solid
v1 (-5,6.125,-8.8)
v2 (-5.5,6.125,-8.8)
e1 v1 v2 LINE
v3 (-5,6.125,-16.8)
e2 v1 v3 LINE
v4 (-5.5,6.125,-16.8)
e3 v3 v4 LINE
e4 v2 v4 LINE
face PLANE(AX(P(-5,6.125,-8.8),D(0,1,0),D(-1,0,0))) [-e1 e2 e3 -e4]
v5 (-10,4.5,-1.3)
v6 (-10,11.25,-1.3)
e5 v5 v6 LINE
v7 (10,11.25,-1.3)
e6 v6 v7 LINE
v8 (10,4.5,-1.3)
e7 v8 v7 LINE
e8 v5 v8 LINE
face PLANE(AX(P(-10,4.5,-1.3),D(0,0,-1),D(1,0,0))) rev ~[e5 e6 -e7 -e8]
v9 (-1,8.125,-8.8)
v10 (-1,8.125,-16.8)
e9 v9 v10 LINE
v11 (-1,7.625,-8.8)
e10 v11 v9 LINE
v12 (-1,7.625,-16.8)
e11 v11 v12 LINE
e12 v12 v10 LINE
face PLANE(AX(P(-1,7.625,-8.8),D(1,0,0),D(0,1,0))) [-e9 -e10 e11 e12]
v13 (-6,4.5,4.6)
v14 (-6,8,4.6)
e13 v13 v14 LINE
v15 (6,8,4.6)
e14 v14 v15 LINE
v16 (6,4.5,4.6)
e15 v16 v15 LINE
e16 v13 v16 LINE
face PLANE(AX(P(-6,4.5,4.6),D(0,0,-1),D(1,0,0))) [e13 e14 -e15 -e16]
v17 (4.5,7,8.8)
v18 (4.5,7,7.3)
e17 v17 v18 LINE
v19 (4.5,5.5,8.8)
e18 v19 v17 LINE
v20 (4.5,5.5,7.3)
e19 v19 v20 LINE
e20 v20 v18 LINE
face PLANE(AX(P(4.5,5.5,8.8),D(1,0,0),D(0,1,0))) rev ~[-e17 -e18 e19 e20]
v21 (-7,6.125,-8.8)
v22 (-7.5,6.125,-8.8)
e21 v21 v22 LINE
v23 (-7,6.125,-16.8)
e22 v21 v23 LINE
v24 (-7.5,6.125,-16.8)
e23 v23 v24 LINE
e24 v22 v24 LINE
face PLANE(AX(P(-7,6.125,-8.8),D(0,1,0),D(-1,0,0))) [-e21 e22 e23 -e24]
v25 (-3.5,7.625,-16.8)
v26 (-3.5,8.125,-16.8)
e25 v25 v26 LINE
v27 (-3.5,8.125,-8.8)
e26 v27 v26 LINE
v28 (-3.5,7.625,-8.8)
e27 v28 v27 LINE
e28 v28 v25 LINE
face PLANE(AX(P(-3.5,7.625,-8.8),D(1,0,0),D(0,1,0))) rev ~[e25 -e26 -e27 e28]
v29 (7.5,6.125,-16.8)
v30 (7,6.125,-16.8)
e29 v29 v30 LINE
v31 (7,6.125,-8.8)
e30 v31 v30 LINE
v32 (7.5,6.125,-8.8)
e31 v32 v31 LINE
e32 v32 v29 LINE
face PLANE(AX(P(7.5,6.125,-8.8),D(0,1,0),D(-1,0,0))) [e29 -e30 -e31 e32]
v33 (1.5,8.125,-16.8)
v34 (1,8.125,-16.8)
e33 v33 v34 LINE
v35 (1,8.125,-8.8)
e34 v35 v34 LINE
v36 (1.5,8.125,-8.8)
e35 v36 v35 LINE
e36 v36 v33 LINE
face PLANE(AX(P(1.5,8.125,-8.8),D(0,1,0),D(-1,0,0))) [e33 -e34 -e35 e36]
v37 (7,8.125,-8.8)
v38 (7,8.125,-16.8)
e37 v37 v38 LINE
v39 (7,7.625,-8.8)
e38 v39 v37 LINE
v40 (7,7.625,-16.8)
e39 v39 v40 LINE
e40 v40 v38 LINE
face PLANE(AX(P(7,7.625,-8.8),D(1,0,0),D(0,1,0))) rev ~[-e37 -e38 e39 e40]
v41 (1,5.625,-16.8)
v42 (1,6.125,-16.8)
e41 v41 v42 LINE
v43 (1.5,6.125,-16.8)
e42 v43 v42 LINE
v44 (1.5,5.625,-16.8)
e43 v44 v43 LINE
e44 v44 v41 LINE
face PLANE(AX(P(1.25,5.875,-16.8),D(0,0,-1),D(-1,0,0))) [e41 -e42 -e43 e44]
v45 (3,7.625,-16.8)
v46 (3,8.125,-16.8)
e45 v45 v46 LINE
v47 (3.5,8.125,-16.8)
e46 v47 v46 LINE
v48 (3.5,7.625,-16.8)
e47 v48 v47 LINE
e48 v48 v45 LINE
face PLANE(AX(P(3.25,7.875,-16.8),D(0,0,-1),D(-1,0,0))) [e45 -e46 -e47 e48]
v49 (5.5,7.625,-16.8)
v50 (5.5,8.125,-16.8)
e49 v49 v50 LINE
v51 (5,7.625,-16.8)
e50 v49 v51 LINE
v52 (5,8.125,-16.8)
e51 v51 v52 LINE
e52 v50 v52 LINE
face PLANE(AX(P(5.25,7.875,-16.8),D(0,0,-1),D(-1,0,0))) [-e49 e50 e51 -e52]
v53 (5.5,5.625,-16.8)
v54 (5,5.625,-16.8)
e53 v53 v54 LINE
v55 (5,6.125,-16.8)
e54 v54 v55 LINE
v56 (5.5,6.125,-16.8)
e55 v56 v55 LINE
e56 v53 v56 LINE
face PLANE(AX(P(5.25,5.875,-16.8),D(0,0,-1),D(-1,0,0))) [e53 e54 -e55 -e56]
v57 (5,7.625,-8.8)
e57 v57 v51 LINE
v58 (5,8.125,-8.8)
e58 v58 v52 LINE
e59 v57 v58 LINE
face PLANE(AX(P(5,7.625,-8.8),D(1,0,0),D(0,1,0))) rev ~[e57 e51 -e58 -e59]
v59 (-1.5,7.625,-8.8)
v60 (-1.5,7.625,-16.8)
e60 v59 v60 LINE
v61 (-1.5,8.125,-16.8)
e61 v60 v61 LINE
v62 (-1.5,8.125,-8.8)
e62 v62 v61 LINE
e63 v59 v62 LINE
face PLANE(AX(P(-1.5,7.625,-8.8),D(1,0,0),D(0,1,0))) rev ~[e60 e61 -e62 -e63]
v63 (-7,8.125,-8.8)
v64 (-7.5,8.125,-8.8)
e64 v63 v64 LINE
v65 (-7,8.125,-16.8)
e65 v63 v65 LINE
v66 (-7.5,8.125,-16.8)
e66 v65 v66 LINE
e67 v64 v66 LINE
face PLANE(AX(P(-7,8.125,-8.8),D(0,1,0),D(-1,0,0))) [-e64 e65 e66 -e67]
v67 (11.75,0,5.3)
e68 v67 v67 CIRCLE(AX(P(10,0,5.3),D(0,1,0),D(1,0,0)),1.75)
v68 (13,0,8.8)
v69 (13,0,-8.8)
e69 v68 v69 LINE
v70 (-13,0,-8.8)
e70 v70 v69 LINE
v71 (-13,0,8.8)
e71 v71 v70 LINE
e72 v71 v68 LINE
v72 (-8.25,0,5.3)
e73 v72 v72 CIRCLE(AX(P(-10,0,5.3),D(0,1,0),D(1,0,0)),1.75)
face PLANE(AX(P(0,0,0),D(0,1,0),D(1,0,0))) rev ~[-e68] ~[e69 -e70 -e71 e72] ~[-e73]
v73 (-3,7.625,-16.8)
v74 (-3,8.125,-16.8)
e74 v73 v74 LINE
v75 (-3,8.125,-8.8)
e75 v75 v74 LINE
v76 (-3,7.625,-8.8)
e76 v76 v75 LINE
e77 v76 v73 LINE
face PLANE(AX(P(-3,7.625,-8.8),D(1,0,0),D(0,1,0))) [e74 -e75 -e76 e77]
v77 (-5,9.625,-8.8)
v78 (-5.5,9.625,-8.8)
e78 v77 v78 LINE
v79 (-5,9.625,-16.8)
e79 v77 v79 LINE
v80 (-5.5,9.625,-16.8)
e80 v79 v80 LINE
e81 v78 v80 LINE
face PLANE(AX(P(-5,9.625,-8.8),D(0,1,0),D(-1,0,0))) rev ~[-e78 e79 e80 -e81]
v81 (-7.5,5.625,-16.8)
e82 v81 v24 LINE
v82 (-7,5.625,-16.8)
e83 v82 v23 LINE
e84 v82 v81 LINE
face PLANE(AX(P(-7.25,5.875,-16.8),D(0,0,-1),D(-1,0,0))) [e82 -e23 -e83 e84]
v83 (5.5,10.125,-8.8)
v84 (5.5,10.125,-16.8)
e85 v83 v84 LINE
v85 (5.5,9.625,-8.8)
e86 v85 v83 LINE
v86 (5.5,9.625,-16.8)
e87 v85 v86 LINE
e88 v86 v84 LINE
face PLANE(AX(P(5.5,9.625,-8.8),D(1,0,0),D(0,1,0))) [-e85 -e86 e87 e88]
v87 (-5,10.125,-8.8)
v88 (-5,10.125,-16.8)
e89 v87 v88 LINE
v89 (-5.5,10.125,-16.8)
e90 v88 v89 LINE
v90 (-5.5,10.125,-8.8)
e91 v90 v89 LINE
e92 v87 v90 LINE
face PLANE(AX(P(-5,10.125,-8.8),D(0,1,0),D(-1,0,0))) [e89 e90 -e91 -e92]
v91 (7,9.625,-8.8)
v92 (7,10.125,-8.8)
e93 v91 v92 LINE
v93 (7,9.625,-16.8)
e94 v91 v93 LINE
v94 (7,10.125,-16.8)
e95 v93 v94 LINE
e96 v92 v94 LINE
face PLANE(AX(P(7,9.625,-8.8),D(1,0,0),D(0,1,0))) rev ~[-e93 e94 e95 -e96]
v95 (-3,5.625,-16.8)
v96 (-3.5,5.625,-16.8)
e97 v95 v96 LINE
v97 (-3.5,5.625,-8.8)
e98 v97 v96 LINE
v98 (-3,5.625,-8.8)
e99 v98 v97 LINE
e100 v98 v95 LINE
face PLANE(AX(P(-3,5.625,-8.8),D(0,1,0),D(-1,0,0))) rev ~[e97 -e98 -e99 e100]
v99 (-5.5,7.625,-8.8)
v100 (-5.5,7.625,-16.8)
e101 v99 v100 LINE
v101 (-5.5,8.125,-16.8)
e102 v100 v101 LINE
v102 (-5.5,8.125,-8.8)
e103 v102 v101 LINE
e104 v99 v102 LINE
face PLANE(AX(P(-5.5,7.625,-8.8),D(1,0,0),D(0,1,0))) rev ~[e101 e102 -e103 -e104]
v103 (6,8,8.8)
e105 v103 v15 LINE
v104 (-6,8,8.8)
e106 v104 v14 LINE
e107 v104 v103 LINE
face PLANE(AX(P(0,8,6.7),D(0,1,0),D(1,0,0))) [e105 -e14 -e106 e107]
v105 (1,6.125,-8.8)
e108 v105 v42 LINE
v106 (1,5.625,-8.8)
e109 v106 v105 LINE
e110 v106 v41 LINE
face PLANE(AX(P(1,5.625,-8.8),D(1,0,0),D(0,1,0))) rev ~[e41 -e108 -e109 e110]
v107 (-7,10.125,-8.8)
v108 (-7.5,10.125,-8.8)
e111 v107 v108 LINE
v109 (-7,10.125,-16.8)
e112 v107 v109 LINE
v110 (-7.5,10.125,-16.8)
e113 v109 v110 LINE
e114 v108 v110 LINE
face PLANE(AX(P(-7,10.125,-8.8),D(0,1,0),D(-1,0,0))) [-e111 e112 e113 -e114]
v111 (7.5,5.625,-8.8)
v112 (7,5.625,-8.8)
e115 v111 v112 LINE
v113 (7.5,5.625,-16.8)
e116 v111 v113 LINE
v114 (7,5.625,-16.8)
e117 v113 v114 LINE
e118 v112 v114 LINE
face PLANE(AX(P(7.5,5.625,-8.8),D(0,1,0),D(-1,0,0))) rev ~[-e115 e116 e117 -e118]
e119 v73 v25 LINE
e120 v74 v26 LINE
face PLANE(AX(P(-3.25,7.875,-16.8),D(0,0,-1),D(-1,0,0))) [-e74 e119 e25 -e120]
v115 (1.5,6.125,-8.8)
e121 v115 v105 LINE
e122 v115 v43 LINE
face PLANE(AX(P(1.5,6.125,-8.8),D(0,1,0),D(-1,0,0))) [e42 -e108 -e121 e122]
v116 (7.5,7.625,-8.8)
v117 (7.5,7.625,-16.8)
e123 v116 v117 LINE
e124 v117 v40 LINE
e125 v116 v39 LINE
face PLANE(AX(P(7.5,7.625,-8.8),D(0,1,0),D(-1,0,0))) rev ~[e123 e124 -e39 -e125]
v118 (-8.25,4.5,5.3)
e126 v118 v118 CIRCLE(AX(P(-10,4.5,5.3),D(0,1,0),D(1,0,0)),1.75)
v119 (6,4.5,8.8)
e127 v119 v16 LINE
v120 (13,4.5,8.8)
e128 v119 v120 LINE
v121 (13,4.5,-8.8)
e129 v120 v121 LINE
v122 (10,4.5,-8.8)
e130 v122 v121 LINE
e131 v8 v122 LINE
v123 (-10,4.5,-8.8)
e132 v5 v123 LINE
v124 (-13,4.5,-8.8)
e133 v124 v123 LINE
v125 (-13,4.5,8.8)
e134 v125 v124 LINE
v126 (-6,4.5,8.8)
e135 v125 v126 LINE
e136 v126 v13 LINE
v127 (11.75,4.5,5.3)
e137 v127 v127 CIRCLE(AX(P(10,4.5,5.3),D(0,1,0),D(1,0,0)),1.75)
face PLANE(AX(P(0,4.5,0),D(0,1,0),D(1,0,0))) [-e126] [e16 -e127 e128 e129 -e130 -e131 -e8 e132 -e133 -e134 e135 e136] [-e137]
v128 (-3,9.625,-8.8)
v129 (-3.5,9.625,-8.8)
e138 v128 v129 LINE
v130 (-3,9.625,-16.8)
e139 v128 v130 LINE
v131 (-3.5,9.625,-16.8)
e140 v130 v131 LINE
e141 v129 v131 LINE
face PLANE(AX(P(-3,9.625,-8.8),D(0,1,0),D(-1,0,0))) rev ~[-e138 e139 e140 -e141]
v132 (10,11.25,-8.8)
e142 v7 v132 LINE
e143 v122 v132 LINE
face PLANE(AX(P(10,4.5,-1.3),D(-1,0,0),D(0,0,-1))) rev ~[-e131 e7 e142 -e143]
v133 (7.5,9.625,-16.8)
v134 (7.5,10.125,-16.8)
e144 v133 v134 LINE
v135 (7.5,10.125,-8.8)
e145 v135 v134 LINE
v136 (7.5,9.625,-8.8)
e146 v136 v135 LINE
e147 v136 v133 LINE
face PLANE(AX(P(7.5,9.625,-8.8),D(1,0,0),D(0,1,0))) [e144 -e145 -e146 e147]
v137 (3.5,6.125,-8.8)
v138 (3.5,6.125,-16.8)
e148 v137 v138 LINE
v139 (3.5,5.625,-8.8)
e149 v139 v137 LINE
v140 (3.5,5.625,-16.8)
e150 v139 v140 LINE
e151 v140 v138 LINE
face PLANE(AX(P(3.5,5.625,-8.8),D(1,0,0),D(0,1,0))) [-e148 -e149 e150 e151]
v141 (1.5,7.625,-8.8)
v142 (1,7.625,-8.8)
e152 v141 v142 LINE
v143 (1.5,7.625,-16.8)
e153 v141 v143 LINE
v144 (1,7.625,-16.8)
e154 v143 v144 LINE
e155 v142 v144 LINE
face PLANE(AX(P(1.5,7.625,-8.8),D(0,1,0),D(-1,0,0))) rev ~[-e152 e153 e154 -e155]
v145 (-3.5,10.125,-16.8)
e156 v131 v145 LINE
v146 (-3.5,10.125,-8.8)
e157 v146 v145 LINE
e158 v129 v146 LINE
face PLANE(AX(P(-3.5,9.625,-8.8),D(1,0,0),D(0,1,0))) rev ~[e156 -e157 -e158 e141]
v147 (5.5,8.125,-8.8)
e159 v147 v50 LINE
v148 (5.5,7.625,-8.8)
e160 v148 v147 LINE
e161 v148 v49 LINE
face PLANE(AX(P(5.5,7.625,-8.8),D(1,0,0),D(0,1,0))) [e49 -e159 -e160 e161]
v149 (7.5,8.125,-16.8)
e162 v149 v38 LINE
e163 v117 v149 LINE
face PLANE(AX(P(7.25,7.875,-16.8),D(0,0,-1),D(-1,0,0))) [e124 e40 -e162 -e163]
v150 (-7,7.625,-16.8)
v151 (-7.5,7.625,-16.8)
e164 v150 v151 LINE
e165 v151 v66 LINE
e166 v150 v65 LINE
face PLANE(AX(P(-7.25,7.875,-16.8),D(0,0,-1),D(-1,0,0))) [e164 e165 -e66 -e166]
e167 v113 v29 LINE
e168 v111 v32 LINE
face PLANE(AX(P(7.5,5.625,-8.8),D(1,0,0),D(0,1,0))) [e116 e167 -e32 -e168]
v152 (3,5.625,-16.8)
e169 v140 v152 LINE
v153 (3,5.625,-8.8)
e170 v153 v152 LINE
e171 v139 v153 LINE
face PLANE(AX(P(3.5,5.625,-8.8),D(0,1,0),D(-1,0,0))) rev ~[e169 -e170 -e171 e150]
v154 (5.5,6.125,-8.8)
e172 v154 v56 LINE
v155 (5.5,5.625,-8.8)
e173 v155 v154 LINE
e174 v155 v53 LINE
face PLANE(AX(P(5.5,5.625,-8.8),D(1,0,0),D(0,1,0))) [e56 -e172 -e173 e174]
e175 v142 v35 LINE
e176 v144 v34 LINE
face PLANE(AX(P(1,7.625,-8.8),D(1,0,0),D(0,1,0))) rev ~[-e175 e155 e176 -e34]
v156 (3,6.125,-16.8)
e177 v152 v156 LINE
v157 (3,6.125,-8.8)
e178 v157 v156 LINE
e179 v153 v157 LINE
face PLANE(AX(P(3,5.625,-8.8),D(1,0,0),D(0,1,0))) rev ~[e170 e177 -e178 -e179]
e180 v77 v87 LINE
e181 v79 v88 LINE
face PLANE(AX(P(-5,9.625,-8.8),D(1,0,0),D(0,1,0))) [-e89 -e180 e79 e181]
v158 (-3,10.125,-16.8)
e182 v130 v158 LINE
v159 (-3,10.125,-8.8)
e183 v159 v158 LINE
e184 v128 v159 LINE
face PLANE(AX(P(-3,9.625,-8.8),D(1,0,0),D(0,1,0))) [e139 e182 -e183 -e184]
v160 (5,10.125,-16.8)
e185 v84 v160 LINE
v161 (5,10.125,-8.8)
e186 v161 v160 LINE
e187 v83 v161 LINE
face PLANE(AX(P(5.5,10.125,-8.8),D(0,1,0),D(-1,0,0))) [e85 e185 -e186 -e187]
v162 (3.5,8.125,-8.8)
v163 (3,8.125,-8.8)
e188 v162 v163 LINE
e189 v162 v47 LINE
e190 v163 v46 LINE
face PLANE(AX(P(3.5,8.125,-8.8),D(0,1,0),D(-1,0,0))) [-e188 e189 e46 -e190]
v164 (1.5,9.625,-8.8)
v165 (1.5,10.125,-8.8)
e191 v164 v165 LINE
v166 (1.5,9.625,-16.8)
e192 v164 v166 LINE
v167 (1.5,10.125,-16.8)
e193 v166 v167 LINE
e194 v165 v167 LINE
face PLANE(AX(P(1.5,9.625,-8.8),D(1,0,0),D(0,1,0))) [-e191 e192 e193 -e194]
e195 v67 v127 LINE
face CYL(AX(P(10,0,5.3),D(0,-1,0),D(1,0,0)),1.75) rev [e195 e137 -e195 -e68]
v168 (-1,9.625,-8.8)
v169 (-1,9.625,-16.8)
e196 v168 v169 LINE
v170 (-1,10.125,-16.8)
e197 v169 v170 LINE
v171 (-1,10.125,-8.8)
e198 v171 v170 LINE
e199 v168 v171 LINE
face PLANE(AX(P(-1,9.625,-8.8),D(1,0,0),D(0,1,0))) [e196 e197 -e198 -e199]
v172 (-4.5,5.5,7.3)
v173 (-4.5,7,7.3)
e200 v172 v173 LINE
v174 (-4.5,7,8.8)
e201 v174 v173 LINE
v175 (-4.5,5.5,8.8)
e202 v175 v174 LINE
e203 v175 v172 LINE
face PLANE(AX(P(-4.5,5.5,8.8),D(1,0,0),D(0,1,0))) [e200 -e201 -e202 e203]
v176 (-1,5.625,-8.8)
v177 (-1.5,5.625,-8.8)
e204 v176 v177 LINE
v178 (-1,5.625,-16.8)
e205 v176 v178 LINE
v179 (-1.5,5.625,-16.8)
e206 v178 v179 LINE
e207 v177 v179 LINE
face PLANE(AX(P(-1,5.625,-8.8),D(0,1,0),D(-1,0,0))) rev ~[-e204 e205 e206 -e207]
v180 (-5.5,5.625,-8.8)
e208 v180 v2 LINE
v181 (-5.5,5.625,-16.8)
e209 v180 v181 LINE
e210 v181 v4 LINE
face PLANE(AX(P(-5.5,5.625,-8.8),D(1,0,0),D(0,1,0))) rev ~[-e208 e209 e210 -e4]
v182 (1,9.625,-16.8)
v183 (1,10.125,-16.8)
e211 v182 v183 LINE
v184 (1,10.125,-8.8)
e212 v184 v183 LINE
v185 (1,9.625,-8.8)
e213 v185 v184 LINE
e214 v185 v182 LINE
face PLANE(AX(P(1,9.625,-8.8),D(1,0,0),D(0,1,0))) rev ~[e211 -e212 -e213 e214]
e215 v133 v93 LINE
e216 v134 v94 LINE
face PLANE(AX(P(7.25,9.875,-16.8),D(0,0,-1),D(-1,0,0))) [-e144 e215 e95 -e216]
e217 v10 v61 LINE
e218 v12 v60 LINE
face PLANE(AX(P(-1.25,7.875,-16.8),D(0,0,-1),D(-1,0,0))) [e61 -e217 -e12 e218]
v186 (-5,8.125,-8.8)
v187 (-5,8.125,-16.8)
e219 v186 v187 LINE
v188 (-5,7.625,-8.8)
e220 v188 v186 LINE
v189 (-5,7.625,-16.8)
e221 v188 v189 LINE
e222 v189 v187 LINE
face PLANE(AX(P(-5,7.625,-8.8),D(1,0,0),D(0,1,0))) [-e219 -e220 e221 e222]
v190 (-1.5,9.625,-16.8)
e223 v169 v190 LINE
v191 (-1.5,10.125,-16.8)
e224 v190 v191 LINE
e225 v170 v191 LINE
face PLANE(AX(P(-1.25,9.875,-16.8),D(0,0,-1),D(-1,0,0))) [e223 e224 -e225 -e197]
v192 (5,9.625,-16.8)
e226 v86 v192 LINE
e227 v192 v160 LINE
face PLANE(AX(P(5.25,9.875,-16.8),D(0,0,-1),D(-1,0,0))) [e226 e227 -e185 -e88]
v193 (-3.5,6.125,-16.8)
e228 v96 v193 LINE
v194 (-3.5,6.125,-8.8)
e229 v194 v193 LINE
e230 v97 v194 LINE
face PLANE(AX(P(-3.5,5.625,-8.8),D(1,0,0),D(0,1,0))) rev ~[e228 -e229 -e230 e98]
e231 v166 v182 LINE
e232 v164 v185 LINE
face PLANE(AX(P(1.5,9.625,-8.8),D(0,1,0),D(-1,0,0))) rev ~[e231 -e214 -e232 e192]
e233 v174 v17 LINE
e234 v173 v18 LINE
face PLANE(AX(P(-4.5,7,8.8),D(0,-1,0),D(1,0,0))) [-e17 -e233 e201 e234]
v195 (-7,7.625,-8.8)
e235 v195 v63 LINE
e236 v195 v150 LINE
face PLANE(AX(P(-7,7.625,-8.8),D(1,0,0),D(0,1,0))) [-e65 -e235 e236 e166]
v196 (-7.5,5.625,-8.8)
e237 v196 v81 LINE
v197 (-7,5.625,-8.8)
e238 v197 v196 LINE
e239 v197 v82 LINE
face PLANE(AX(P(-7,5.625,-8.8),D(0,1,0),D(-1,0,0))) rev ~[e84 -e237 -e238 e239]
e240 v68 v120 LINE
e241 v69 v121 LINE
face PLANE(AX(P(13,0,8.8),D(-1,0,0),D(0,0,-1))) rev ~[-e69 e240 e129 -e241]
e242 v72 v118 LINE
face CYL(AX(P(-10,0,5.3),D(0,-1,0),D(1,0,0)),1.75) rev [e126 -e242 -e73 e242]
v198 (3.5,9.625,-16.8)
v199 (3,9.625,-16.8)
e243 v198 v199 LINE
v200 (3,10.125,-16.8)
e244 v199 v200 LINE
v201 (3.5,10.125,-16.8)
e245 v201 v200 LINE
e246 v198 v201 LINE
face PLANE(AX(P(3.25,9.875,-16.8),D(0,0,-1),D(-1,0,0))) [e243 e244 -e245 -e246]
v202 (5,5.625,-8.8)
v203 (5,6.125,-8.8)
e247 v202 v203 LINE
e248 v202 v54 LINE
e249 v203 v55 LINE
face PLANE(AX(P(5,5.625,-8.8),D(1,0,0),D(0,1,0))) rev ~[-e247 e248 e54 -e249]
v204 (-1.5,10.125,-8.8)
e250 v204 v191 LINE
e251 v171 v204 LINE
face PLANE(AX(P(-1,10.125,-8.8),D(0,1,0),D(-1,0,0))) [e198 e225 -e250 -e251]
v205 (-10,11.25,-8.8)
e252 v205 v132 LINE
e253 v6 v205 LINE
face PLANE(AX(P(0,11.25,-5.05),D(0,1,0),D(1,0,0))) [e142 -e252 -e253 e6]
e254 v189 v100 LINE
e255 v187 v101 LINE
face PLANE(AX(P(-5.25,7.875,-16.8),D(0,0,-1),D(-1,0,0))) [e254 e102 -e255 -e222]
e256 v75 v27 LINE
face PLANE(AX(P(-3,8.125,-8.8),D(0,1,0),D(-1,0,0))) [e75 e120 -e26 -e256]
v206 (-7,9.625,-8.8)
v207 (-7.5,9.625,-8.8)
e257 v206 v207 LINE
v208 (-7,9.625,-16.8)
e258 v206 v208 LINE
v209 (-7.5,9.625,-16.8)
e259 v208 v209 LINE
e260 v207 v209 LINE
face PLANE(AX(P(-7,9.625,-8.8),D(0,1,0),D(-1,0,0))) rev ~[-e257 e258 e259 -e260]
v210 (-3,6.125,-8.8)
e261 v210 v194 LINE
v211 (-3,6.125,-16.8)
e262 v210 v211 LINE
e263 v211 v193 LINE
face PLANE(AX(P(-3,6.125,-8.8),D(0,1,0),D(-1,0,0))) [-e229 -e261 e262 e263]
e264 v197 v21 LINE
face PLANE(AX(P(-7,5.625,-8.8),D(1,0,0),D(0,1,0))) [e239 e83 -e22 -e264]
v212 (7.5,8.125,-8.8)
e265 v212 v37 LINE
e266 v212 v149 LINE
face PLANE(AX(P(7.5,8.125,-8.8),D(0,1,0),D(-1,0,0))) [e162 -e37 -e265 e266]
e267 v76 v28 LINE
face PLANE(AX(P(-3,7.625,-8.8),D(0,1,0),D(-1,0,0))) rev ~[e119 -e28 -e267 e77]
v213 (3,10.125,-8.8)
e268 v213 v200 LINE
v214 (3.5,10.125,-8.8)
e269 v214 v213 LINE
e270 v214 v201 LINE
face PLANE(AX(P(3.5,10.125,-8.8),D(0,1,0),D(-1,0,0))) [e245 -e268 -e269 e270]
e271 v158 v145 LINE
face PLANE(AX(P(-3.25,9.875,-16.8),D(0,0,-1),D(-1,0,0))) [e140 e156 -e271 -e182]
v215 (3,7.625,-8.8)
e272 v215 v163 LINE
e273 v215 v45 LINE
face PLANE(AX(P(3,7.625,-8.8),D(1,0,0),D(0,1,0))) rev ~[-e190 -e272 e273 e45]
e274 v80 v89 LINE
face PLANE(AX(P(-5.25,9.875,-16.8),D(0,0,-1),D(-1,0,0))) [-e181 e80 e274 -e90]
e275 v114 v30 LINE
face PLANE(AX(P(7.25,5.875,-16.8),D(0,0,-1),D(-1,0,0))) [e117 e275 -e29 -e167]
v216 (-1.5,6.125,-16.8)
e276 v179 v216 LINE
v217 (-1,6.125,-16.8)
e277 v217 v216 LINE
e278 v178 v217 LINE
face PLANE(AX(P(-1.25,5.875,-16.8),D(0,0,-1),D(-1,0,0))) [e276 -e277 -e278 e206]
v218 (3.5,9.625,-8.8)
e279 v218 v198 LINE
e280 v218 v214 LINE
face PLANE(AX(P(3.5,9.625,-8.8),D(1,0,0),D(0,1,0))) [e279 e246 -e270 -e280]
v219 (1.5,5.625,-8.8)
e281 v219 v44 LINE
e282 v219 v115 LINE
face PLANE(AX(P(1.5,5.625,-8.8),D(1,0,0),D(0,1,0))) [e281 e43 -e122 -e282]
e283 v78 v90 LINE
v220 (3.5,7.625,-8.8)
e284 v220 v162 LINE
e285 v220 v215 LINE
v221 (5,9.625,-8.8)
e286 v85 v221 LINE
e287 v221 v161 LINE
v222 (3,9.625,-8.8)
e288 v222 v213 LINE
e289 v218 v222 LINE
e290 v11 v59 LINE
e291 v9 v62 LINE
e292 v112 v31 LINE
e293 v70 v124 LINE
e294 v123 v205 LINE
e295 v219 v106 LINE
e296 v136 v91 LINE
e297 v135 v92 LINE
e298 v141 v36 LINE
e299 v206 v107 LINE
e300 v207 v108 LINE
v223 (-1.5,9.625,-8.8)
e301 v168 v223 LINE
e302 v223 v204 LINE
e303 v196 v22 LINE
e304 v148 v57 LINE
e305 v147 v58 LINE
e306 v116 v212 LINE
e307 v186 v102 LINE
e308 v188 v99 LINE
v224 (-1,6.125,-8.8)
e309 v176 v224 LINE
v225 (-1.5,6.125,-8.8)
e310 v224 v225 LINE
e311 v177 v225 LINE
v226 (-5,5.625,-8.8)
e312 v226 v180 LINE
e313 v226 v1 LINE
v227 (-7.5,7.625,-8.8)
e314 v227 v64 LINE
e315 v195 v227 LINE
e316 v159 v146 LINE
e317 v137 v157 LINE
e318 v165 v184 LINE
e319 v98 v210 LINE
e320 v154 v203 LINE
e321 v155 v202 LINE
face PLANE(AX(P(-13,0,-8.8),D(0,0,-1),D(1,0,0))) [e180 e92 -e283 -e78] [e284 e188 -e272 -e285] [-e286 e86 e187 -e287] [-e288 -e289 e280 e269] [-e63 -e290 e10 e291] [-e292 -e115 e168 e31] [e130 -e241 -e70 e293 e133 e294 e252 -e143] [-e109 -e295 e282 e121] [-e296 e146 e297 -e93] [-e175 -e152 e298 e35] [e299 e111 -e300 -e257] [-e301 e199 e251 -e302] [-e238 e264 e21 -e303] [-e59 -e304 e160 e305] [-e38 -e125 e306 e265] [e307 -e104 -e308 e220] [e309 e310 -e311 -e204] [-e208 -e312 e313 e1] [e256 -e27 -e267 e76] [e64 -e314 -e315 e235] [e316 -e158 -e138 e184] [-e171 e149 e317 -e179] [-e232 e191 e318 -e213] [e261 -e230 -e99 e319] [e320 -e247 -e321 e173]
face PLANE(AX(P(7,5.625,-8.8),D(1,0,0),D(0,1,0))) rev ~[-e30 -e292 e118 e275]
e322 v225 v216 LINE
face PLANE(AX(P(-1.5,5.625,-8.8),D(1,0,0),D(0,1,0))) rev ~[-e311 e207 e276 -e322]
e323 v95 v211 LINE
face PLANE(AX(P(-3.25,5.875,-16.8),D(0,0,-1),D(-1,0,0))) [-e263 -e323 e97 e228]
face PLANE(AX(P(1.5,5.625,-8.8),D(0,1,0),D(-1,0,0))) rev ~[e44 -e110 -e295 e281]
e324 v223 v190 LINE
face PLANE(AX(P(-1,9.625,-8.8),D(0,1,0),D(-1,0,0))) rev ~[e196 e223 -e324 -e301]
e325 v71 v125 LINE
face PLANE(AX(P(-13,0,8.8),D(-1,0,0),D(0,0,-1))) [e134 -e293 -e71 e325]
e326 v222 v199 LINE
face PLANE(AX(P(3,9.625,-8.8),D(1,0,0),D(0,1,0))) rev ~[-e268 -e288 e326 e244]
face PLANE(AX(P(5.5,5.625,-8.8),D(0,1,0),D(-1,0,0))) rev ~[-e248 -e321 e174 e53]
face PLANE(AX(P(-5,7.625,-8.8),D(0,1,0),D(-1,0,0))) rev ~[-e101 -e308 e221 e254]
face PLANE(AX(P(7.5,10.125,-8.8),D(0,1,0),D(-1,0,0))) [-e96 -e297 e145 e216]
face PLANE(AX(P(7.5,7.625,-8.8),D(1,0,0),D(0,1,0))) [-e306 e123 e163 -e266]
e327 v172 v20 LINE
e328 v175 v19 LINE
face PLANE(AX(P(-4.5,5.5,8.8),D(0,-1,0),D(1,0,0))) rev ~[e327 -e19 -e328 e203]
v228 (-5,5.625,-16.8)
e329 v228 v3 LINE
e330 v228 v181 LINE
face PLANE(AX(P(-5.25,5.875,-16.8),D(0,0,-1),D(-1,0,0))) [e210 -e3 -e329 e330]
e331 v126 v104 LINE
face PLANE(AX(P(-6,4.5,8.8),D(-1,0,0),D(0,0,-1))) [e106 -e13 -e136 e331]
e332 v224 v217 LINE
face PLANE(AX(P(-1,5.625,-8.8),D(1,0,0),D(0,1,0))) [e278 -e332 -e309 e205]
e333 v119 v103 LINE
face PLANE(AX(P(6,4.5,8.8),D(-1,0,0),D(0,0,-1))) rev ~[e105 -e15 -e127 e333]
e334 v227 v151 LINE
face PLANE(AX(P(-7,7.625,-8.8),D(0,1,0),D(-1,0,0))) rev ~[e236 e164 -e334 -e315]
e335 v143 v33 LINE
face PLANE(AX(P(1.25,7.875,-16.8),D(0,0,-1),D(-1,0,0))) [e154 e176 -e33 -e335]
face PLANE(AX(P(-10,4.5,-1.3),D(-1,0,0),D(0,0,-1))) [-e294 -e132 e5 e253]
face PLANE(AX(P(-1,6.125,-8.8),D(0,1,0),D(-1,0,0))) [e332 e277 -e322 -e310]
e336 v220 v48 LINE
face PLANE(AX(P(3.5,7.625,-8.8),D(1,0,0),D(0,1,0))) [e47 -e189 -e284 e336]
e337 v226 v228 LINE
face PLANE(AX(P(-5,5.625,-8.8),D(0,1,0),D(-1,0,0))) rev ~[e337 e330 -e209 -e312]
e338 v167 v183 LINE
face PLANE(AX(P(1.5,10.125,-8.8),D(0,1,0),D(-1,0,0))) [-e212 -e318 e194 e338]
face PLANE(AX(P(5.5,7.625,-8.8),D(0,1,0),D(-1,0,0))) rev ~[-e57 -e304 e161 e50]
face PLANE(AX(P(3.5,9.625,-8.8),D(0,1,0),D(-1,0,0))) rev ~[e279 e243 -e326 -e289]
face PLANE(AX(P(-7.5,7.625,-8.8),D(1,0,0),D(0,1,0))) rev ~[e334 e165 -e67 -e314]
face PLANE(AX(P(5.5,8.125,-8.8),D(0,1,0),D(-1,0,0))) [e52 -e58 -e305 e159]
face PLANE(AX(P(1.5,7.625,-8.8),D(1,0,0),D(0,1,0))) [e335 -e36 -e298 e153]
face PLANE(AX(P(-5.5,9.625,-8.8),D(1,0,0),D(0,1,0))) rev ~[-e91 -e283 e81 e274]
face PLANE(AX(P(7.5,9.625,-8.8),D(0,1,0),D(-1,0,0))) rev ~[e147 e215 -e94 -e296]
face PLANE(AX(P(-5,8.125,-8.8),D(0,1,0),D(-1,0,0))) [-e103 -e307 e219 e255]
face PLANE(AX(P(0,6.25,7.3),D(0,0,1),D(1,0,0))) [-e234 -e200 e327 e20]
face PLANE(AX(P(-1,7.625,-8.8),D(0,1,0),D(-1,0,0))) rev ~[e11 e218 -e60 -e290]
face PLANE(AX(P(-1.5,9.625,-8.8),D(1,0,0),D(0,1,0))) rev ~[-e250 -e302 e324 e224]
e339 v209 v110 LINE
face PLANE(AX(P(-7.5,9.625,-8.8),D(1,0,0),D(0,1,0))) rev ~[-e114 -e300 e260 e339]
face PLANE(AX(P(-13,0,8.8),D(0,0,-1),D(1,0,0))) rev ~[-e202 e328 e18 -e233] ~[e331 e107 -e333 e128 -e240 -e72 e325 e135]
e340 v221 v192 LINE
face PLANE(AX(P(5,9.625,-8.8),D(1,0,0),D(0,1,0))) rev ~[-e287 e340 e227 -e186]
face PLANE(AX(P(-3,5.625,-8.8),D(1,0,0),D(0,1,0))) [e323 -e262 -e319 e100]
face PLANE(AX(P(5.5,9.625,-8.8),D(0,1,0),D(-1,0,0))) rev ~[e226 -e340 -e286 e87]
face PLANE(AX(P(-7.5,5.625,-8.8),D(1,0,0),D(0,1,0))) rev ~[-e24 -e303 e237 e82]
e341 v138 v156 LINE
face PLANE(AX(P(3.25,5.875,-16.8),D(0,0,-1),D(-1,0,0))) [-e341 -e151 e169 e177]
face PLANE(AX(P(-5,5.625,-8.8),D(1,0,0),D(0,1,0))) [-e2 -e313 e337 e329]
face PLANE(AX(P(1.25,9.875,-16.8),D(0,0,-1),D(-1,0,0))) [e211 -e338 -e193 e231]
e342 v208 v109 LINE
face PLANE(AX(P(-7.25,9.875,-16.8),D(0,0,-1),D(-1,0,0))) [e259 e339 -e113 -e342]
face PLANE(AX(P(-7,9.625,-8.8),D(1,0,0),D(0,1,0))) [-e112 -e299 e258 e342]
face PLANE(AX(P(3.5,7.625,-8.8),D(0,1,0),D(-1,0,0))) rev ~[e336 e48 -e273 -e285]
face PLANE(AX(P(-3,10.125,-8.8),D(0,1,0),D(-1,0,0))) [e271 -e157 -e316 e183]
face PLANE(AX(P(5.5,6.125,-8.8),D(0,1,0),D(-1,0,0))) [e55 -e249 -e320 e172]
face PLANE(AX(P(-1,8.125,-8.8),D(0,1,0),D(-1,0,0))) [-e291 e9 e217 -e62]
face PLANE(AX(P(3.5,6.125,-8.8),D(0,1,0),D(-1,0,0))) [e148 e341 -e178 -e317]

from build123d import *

# Parameters (mm, degrees)
SKETCH1_W           = 26
SKETCH1_H           = 17.6
SKETCH1_R           = 1.75
BOSS_EXTRUDE1_DEPTH = 4.5
SKETCH2_W           = 12
SKETCH2_H           = 4.2
BOSS_EXTRUDE2_DEPTH = 3.5
SKETCH3_W           = 9
SKETCH3_H           = 1.5
CUT_EXTRUDE1_DEPTH  = 1.5
SKETCH4_W           = 20
SKETCH4_H           = 7.5
BOSS_EXTRUDE3_DEPTH = 6.75
SKETCH5_W           = 0.5
SKETCH5_H           = 0.5
BOSS_EXTRUDE4_DEPTH = 8


with BuildPart() as part:
    # Sketch1 → Boss-Extrude1 (new body)
    with BuildSketch(Plane(origin=(0, 0, 0), x_dir=(1, 0, 0), z_dir=(0, 1, 0))):
        Rectangle(SKETCH1_W, SKETCH1_H)
        with Locations((10, -5.3)):
            Circle(SKETCH1_R, mode=Mode.SUBTRACT)
        with Locations((-10, -5.3)):
            Circle(SKETCH1_R, mode=Mode.SUBTRACT)
    extrude(amount=BOSS_EXTRUDE1_DEPTH)

    # Sketch2 → Boss-Extrude2 (add)
    with BuildSketch(Plane(origin=(0, 4.5, 0), x_dir=(1, 0, 0), z_dir=(0, 1, 0))):
        with Locations((0, -6.7)):
            Rectangle(SKETCH2_W, SKETCH2_H)
    extrude(amount=BOSS_EXTRUDE2_DEPTH)

    # Sketch3 → Cut-Extrude1 (cut)
    with BuildSketch(Plane.XY.offset(8.8)):
        with Locations((0, 6.25)):
            Rectangle(SKETCH3_W, SKETCH3_H)
    extrude(amount=-CUT_EXTRUDE1_DEPTH, mode=Mode.SUBTRACT)

    # Sketch4 → Boss-Extrude3 (add)
    with BuildSketch(Plane(origin=(0, 4.5, 0), x_dir=(1, 0, 0), z_dir=(0, 1, 0))):
        with Locations((0, 5.05)):
            Rectangle(SKETCH4_W, SKETCH4_H)
    extrude(amount=BOSS_EXTRUDE3_DEPTH)

    # Sketch5 → Boss-Extrude4 (add)
    with BuildSketch(Plane(origin=(0, 0, -8.8), x_dir=(-1, 0, 0), z_dir=(0, 0, -1))):
        with Locations((3.25, 7.875)):
            Rectangle(SKETCH5_W, SKETCH5_H)
        with Locations((1.25, 7.875)):
            Rectangle(SKETCH5_W, SKETCH5_H)
        with Locations((5.25, 7.875)):
            Rectangle(SKETCH5_W, SKETCH5_H)
        with Locations((7.25, 7.875)):
            Rectangle(SKETCH5_W, SKETCH5_H)
        with Locations((-7.25, 7.875)):
            Rectangle(SKETCH5_W, SKETCH5_H)
        with Locations((-5.25, 7.875)):
            Rectangle(SKETCH5_W, SKETCH5_H)
        with Locations((-3.25, 7.875)):
            Rectangle(SKETCH5_W, SKETCH5_H)
        with Locations((-1.25, 7.875)):
            Rectangle(SKETCH5_W, SKETCH5_H)
        with Locations((-3.25, 9.875)):
            Rectangle(SKETCH5_W, SKETCH5_H)
        with Locations((-1.25, 9.875)):
            Rectangle(SKETCH5_W, SKETCH5_H)
        with Locations((-5.25, 9.875)):
            Rectangle(SKETCH5_W, SKETCH5_H)
        with Locations((-7.25, 9.875)):
            Rectangle(SKETCH5_W, SKETCH5_H)
        with Locations((7.25, 9.875)):
            Rectangle(SKETCH5_W, SKETCH5_H)
        with Locations((5.25, 9.875)):
            Rectangle(SKETCH5_W, SKETCH5_H)
        with Locations((3.25, 9.875)):
            Rectangle(SKETCH5_W, SKETCH5_H)
        with Locations((1.25, 9.875)):
            Rectangle(SKETCH5_W, SKETCH5_H)
        with Locations((-3.25, 5.875)):
            Rectangle(SKETCH5_W, SKETCH5_H)
        with Locations((-1.25, 5.875)):
            Rectangle(SKETCH5_W, SKETCH5_H)
        with Locations((-5.25, 5.875)):
            Rectangle(SKETCH5_W, SKETCH5_H)
        with Locations((-7.25, 5.875)):
            Rectangle(SKETCH5_W, SKETCH5_H)
        with Locations((7.25, 5.875)):
            Rectangle(SKETCH5_W, SKETCH5_H)
        with Locations((5.25, 5.875)):
            Rectangle(SKETCH5_W, SKETCH5_H)
        with Locations((3.25, 5.875)):
            Rectangle(SKETCH5_W, SKETCH5_H)
        with Locations((1.25, 5.875)):
            Rectangle(SKETCH5_W, SKETCH5_H)
    extrude(amount=BOSS_EXTRUDE4_DEPTH)


solid = part.part
